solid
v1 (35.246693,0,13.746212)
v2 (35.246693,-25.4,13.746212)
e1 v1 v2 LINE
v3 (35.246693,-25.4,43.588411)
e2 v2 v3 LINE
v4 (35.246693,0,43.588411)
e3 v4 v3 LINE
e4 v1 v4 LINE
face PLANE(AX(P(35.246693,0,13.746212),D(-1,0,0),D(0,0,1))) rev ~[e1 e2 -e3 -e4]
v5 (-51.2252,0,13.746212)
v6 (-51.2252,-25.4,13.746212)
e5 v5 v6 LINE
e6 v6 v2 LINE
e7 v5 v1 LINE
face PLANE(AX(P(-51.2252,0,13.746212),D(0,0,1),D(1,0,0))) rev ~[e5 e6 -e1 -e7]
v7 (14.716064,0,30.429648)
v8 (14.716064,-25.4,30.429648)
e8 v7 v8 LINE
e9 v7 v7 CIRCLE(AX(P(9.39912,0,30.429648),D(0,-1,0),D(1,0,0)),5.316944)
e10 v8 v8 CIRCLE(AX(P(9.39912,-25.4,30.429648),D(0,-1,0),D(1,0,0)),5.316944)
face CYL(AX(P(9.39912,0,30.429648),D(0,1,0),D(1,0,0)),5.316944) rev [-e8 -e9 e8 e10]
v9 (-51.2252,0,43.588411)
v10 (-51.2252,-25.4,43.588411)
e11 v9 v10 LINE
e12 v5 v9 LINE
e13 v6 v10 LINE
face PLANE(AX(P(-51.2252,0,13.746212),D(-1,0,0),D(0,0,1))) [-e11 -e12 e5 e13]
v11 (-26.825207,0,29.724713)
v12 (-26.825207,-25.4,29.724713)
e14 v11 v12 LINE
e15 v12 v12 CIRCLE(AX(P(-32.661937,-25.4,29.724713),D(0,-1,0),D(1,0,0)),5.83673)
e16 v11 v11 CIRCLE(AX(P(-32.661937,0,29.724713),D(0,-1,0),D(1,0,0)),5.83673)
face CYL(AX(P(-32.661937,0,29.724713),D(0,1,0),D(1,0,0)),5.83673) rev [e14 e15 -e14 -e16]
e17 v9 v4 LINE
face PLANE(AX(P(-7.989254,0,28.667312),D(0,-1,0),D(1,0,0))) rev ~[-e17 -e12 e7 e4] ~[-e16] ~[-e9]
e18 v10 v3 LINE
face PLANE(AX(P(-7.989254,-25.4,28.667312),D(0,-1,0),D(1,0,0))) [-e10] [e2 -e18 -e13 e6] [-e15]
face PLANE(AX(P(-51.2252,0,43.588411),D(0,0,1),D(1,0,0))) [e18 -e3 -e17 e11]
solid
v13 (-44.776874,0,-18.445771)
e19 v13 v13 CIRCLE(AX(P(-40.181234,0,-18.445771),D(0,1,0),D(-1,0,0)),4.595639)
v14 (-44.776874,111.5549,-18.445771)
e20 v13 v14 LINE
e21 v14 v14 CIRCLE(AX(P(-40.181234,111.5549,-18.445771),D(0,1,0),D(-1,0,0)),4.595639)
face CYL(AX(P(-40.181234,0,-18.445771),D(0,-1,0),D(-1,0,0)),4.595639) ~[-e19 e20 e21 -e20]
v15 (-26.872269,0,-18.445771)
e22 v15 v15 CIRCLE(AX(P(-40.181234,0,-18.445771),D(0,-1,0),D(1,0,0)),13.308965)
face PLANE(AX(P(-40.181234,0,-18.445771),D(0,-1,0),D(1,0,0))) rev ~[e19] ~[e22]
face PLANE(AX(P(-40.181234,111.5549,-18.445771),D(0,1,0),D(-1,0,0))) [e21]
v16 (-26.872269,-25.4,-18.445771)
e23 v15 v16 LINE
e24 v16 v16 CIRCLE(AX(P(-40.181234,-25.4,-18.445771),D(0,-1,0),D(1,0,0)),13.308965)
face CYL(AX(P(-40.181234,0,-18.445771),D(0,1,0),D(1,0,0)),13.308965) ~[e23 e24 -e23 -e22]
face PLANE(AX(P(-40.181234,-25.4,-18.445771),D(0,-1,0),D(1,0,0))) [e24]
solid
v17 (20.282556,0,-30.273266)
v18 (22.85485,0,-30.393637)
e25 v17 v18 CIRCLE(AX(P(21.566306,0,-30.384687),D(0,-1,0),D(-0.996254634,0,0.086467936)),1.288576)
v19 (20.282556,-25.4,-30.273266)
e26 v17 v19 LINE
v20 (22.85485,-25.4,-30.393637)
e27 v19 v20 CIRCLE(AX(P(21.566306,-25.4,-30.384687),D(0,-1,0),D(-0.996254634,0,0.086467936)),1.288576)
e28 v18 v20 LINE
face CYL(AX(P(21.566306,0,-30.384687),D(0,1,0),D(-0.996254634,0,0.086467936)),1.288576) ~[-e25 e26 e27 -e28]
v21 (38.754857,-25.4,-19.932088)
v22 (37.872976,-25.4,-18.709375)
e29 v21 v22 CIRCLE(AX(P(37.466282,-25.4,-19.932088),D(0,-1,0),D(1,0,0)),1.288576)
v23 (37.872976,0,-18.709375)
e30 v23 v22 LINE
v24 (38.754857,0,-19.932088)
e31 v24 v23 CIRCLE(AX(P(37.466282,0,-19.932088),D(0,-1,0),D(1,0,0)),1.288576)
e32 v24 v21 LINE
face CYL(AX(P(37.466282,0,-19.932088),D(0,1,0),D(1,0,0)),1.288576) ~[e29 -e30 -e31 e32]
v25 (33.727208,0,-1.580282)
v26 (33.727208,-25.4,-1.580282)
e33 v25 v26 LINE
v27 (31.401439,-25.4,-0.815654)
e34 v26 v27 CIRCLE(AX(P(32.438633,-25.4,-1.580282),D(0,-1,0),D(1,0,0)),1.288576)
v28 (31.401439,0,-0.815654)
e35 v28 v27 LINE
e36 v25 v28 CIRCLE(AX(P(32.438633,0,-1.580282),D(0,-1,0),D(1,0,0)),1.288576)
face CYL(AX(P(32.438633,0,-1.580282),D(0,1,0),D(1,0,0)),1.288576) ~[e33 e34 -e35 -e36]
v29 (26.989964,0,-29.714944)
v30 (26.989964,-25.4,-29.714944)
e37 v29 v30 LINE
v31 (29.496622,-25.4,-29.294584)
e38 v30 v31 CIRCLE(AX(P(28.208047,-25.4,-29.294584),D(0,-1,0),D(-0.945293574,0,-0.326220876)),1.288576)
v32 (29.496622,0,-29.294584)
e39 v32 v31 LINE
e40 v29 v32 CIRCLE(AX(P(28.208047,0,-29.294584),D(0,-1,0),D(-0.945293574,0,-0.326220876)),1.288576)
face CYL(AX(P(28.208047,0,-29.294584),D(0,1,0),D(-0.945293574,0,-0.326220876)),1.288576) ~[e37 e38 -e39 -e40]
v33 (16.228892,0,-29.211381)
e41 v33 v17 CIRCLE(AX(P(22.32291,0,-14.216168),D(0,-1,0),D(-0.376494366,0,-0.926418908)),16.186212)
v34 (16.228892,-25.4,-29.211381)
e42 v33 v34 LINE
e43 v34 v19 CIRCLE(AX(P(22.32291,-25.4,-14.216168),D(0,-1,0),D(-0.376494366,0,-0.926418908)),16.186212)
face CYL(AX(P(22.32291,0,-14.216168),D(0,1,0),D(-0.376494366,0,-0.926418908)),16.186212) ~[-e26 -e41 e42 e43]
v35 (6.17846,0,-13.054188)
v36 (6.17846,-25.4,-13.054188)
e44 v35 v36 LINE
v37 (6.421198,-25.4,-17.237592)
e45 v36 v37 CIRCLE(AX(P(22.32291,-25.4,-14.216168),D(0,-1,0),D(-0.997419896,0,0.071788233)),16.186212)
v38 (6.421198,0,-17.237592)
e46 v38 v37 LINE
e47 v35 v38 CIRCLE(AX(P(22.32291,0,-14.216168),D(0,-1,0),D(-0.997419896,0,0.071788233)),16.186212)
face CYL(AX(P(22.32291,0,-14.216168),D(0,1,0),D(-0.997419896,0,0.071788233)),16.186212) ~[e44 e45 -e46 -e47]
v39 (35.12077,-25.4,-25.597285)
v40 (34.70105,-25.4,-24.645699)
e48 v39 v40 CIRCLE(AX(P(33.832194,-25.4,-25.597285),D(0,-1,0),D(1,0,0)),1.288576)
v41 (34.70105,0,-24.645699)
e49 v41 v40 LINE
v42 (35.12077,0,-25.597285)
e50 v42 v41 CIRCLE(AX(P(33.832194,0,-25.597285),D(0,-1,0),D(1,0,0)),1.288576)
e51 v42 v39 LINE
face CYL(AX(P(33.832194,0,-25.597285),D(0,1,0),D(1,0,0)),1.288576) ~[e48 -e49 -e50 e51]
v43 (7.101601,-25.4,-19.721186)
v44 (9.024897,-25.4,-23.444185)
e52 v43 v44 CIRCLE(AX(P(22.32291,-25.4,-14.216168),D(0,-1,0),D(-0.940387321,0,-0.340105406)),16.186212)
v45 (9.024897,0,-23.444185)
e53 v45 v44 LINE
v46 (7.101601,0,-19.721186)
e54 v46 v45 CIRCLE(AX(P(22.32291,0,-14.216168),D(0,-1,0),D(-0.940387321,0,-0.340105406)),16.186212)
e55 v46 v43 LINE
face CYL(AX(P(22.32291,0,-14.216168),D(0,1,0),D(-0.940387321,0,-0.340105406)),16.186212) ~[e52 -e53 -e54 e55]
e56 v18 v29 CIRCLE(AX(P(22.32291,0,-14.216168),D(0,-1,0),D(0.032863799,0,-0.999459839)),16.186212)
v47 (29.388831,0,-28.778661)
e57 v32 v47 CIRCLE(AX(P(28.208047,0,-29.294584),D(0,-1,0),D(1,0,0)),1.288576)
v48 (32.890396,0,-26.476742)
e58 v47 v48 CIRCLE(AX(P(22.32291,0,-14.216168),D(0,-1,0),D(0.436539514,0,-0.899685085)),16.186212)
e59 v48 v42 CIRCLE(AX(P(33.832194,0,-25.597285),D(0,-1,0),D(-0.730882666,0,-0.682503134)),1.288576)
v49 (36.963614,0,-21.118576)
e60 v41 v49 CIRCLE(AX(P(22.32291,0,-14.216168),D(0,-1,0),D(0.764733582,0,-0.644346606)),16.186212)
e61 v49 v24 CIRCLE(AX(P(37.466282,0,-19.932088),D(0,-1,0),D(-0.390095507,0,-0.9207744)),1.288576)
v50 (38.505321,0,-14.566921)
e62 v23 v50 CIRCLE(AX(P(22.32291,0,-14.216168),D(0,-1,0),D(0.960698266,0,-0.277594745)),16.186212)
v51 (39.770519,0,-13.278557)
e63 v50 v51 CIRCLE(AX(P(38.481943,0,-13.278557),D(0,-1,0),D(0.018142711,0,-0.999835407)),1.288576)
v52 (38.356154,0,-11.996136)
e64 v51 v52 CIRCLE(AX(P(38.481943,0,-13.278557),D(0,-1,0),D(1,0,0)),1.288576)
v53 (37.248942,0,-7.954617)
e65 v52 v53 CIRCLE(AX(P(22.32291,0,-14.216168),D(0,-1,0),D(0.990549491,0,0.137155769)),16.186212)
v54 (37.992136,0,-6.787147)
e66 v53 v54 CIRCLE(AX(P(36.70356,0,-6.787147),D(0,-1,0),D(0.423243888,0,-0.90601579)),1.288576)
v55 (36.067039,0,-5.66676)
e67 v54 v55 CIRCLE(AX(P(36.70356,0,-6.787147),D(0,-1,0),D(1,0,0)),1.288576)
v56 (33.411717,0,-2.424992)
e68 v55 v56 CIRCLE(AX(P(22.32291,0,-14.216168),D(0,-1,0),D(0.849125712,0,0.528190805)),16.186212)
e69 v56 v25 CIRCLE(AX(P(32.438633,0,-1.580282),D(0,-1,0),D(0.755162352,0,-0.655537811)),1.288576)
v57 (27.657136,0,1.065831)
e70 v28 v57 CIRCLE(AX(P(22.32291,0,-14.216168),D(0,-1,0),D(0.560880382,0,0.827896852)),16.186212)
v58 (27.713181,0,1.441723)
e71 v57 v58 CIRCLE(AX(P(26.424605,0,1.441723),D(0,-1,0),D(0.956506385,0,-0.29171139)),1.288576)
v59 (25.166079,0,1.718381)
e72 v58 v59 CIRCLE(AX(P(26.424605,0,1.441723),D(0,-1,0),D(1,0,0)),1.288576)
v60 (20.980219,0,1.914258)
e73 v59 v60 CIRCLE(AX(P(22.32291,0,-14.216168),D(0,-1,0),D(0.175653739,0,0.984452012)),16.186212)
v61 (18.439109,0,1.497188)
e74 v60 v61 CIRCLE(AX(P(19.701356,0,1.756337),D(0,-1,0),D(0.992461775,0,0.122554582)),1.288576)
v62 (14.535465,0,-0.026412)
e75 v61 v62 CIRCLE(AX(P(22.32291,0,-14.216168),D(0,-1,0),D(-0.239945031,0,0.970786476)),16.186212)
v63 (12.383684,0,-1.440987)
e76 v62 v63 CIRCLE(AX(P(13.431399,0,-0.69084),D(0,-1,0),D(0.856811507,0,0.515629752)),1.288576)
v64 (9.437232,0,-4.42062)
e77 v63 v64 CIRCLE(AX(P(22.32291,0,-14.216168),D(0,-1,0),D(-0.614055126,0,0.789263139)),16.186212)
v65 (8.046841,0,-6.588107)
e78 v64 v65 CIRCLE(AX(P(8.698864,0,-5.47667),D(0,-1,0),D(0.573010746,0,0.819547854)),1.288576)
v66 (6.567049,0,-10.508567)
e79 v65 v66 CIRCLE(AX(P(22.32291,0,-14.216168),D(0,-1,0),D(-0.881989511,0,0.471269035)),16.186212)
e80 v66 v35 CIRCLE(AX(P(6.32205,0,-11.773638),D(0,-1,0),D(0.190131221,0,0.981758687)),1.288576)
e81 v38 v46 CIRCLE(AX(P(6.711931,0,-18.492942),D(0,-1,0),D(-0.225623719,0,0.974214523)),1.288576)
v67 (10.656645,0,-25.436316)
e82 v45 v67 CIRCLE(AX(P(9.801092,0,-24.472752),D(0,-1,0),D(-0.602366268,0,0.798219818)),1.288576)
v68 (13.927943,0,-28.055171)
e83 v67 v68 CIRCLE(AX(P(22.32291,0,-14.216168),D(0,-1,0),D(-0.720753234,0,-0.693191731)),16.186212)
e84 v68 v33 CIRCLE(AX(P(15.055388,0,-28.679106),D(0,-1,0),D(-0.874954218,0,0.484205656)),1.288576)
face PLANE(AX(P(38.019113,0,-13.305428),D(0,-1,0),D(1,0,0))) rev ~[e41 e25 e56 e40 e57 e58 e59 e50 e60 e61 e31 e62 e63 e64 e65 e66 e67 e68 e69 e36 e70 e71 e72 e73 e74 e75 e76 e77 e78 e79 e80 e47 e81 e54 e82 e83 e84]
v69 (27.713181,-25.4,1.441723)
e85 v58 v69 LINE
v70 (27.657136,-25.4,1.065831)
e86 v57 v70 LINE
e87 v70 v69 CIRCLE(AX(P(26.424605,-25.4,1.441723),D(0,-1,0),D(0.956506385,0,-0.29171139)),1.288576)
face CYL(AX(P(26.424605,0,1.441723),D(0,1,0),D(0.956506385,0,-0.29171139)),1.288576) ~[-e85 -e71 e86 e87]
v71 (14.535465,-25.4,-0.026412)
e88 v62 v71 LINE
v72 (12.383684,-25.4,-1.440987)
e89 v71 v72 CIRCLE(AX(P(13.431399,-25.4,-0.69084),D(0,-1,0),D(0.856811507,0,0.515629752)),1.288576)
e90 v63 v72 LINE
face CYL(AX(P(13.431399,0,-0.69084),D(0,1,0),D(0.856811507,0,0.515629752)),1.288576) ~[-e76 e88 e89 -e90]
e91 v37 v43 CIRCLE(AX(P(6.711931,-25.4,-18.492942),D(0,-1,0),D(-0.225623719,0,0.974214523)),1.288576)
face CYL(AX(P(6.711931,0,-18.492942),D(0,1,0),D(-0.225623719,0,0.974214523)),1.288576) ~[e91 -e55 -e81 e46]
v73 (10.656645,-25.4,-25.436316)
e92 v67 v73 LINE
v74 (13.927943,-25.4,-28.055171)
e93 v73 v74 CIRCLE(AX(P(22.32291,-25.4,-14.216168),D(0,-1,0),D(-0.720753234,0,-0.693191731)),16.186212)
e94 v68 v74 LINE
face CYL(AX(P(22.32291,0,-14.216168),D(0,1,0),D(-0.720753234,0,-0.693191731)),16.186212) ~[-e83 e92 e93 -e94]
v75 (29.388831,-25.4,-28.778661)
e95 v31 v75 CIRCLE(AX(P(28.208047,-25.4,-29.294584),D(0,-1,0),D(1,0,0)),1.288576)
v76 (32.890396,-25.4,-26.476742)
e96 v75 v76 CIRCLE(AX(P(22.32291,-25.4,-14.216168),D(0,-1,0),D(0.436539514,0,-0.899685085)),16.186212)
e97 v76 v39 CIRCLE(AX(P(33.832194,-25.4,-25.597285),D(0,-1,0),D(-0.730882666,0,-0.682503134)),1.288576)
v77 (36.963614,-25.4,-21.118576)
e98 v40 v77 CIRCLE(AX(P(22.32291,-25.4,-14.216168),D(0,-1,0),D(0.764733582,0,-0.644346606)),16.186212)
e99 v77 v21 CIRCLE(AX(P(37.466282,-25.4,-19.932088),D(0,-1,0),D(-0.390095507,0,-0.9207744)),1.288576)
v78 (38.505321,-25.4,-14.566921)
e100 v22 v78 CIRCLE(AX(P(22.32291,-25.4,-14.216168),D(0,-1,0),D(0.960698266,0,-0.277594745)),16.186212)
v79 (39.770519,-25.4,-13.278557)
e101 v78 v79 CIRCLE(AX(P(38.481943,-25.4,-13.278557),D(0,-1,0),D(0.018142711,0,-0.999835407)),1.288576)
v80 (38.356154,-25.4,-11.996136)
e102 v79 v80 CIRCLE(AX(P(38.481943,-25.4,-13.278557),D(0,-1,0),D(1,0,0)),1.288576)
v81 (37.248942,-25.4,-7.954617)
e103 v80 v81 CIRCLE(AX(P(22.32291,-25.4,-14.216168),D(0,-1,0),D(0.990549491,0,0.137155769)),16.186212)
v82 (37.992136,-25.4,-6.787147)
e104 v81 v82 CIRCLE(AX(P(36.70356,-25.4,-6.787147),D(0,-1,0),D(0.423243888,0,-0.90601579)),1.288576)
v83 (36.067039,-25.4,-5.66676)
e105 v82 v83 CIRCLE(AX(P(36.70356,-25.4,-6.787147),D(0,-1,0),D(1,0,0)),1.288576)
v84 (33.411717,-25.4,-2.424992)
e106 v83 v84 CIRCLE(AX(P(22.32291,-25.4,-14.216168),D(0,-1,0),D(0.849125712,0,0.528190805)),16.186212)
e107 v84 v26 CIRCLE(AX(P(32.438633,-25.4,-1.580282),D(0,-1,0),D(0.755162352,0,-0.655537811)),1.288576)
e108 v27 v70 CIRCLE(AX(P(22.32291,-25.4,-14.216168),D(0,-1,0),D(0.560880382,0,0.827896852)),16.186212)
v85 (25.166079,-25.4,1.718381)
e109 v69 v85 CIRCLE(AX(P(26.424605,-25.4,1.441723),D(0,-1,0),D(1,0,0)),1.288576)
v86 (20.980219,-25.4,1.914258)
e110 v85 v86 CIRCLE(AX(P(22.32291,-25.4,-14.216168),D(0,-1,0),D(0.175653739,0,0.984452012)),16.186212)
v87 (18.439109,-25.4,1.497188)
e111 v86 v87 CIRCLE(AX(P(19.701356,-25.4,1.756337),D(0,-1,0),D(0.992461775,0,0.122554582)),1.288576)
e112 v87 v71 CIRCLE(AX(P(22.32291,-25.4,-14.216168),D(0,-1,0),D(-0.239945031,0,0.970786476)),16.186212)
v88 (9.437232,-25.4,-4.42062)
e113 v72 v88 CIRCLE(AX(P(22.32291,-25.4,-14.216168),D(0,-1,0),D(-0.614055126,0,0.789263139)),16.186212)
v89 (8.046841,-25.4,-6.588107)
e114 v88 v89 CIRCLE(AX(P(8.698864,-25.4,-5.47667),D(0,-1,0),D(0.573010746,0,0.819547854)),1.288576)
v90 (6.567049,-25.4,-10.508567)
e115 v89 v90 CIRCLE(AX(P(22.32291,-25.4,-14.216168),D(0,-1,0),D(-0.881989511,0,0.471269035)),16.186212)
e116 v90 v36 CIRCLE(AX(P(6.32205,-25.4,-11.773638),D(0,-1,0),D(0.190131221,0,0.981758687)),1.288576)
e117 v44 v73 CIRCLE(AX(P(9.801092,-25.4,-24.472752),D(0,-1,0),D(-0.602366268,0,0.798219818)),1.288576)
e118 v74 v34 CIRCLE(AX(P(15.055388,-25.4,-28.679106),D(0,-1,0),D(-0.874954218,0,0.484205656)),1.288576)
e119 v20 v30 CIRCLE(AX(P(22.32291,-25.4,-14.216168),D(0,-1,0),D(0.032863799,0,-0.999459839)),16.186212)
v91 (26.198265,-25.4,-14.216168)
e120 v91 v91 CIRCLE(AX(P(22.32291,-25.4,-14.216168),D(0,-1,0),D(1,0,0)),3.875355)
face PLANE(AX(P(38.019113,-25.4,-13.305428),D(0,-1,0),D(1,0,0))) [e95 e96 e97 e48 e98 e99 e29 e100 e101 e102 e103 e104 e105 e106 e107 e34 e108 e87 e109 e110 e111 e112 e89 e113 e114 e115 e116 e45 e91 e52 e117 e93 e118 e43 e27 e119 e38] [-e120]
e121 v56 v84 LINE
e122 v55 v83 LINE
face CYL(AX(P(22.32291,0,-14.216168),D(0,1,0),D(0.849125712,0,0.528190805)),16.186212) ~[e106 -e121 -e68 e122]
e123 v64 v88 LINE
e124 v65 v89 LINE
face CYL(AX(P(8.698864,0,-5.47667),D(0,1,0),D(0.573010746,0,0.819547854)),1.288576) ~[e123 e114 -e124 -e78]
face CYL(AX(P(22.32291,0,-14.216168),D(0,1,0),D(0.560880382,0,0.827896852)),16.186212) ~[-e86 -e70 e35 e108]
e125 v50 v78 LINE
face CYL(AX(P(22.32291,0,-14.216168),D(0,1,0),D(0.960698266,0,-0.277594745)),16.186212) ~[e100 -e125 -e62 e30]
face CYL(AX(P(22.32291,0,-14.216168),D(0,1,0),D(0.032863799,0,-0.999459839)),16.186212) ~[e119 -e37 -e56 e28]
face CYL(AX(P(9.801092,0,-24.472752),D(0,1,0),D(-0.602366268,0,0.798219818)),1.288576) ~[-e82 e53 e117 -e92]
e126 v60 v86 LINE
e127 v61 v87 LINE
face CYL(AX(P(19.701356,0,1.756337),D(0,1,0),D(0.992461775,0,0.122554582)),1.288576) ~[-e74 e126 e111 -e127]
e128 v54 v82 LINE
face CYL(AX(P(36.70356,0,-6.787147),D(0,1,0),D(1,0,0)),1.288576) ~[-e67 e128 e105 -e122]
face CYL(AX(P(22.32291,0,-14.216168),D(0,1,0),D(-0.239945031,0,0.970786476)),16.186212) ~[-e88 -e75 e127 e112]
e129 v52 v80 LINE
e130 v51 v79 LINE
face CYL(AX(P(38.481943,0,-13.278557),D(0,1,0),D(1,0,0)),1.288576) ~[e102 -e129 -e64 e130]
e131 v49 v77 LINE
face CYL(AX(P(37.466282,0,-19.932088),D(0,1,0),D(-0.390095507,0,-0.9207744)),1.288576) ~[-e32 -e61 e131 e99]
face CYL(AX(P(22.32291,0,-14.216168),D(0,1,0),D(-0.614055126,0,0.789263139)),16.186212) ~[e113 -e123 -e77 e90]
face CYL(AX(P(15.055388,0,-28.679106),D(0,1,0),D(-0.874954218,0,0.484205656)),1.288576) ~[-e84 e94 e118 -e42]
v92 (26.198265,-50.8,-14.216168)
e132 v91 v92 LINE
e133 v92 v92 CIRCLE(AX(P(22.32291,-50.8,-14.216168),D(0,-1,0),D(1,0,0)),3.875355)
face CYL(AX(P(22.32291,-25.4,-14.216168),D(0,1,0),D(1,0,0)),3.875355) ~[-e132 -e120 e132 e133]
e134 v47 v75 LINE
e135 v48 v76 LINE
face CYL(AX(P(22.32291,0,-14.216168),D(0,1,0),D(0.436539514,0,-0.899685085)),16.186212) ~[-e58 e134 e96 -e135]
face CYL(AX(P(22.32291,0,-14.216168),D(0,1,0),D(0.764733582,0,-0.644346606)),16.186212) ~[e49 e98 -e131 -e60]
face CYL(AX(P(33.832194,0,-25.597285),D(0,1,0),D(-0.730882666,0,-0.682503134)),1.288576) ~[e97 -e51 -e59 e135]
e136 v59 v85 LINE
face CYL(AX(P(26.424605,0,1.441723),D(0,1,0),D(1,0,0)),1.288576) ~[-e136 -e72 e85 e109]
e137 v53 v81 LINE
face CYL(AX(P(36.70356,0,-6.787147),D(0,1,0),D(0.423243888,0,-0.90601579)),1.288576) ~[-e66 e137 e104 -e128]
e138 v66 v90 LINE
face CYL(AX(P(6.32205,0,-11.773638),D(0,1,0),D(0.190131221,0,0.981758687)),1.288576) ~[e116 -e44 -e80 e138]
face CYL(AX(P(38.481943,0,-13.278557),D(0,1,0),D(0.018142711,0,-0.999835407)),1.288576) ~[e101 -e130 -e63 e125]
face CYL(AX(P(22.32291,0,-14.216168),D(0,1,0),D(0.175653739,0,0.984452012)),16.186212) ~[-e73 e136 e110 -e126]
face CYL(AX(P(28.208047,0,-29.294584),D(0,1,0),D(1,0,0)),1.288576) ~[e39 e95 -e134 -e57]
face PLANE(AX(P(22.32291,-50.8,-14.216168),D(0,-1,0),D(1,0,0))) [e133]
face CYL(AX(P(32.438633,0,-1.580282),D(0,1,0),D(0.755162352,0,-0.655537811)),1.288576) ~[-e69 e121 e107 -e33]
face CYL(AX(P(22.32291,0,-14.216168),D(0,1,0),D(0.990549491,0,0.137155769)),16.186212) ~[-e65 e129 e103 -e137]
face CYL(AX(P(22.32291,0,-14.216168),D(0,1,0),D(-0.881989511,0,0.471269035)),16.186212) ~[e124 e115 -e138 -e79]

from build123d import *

# Parameters (mm, degrees)
F0_W     = 86.4718928933
F0_H     = 29.8421988264
F0_R     = 5.8367301555
F0_R_2   = 5.3169441362
F1_DEPTH = 25.4
F2_DEPTH = 25.4
F0_R_3   = 13.3089651356
F3_R     = 4.5956390335
F4_DEPTH = 111.5549
F5_R     = 3.875354641
F6_DEPTH = 25.4


with BuildPart() as f1:
    # F0 (on Front) → F1 (new body)
    with BuildSketch(Plane.XZ):
        with Locations((-7.9892538488, 28.6673116498)):
            Rectangle(F0_W, F0_H)
        with Locations((-32.6619371772, 29.7247134149)):
            Circle(F0_R, mode=Mode.SUBTRACT)
        with Locations((9.3991197646, 30.4296482354)):
            Circle(F0_R_2, mode=Mode.SUBTRACT)
    extrude(amount=F1_DEPTH)

    # F0 (on Front) → F2 (join)
    with BuildSketch(Plane.XZ):
        with Locations((-7.9892538488, 28.6673116498)):
            Rectangle(F0_W, F0_H)
        with Locations((-32.6619371772, 29.7247134149)):
            Circle(F0_R, mode=Mode.SUBTRACT)
        with Locations((9.3991197646, 30.4296482354)):
            Circle(F0_R_2, mode=Mode.SUBTRACT)
    extrude(amount=F2_DEPTH)


with BuildPart() as f2:
    # F0 (on Front) → F2, piece 2 (new body)
    with BuildSketch(Plane.XZ):
        with Locations((-40.181234479, -18.4457711875)):
            Circle(F0_R_3)
    extrude(amount=F2_DEPTH)

    # F3 (on face) → F4 (join)
    with BuildSketch(Plane(origin=(0, 0, 0), x_dir=(-1, 0, 0), z_dir=(0, 1, 0))):
        with Locations((40.181234479, -18.4457711875)):
            Circle(F3_R)
    extrude(amount=F4_DEPTH)


with BuildPart() as f2b:
    # F0 (on Front) → F2, piece 3 (new body)
    with BuildSketch(Plane.XZ):
        with BuildLine():
            ThreePointArc((38.5053209927, -14.566920689), (38.5081715854, -14.3915545669), (38.5091218202, -14.2161678523))
            ThreePointArc((38.5091218202, -14.2161678523), (38.470834554, -13.1035197974), (38.3561538866, -11.9961355131))
            ThreePointArc((38.3561538866, -11.9961355131), (37.1955306361, -13.3531996767), (38.5053209927, -14.566920689))
        make_face()
        with BuildLine():
            ThreePointArc((38.3561538866, -11.9961355131), (38.470834554, -13.1035197974), (38.5091218202, -14.2161678523))
            ThreePointArc((38.5091218202, -14.2161678523), (38.5081715854, -14.3915545669), (38.5053209927, -14.566920689))
            ThreePointArc((38.5053209927, -14.566920689), (39.4013317381, -14.181414366), (39.770518546, -13.2785569676))
            ThreePointArc((39.770518546, -13.2785569676), (39.3474885609, -12.3239585997), (38.3561538866, -11.9961355131))
        make_face()
        with BuildLine():
            ThreePointArc((38.5053209927, -14.566920689), (37.1955306361, -13.3531996767), (38.3561538866, -11.9961355131))
            ThreePointArc((38.3561538866, -11.9961355131), (37.9338888332, -9.9393941778), (37.2489420793, -7.9546169509))
            ThreePointArc((37.2489420793, -7.9546169509), (35.5587242385, -7.3785673661), (36.0670386147, -5.6667595589))
            ThreePointArc((36.0670386147, -5.6667595589), (34.8447282268, -3.9595835248), (33.4117166045, -2.4249922481))
            ThreePointArc((33.4117166045, -2.4249922481), (31.6333252992, -2.5862182972), (31.4014386276, -0.8156539676))
            ThreePointArc((31.4014386276, -0.8156539676), (29.5904314756, 0.2467705198), (27.657135713, 1.0658310732))
            ThreePointArc((27.657135713, 1.0658310732), (26.0980709561, 0.1952068389), (25.1660785488, 1.7183810332))
            ThreePointArc((25.1660785488, 1.7183810332), (23.0795142218, 1.9523511282), (20.9802187196, 1.9142579478))
            ThreePointArc((20.9802187196, 1.9142579478), (20.987501608, 1.8354467404), (20.9899322942, 1.7563370784))
            ThreePointArc((20.9899322942, 1.7563370784), (19.831598117, 0.4743601917), (18.4391087823, 1.4971877709))
            ThreePointArc((18.4391087823, 1.4971877709), (16.4377732083, 0.8622479185), (14.5354652304, -0.0264123389))
            ThreePointArc((14.5354652304, -0.0264123389), (14.6729905921, -0.3460548311), (14.7199744587, -0.6908403648))
            ThreePointArc((14.7199744587, -0.6908403648), (13.8253321714, -1.9177242224), (12.3836835135, -1.44098743))
            ThreePointArc((12.3836835135, -1.44098743), (10.8136257948, -2.8350503611), (9.4372316724, -4.4206202636))
            ThreePointArc((9.4372316724, -4.4206202636), (9.841639124, -4.8812771813), (9.9874396967, -5.4766698043))
            ThreePointArc((9.9874396967, -5.4766698043), (9.3392725141, -6.594839921), (8.046840783, -6.5881073848))
            ThreePointArc((8.046840783, -6.5881073848), (7.1795381627, -8.5002472491), (6.5670489438, -10.5085673562))
            ThreePointArc((6.5670489438, -10.5085673562), (7.3160642218, -10.9536596544), (7.6106262623, -11.7736378522))
            ThreePointArc((7.6106262623, -11.7736378522), (7.1809452542, -12.7342248282), (6.178460098, -13.0541882932))
            ThreePointArc((6.178460098, -13.0541882932), (6.1638770783, -15.1537787369), (6.4211977132, -17.2375922571))
            ThreePointArc((6.4211977132, -17.2375922571), (7.5137401112, -17.4842147362), (8.000506791, -18.4929415268))
            ThreePointArc((8.000506791, -18.4929415268), (7.7517741331, -19.2539631019), (7.1016014527, -19.7211860236))
            ThreePointArc((7.1016014527, -19.7211860236), (7.9422595701, -21.6451887849), (9.0248969832, -23.4441854296))
            ThreePointArc((9.0248969832, -23.4441854296), (10.3756531718, -23.3193629975), (11.0896673975, -24.4727521798))
            ThreePointArc((11.0896673975, -24.4727521798), (10.9764369542, -25.0009480594), (10.6566453202, -25.4363161007))
            ThreePointArc((10.6566453202, -25.4363161007), (12.2071871492, -26.852053623), (13.9279434964, -28.055170529))
            ThreePointArc((13.9279434964, -28.055170529), (15.3775912787, -27.4314632923), (16.3439641486, -28.6791062244))
            ThreePointArc((16.3439641486, -28.6791062244), (16.3148676875, -28.951391714), (16.2288923194, -29.2113806137))
            ThreePointArc((16.2288923194, -29.2113806137), (18.2212150915, -29.874059018), (20.2825559678, -30.2732663423))
            ThreePointArc((20.2825559678, -30.2732663423), (21.6220680736, -29.0973181339), (22.8548814025, -30.3846868328))
            ThreePointArc((22.8548814025, -30.3846868328), (22.8548736323, -30.38916175), (22.8548503218, -30.3936366131))
            ThreePointArc((22.8548503218, -30.3936366131), (24.94446333, -30.188672783), (26.9899641712, -29.7149439525))
            ThreePointArc((26.9899641712, -29.7149439525), (27.7395339696, -28.0941988797), (29.3888309939, -28.7786612961))
            ThreePointArc((29.3888309939, -28.7786612961), (31.2144211656, -27.7414953398), (32.8903962933, -26.476742373))
            ThreePointArc((32.8903962933, -26.476742373), (32.9159459677, -24.6912405702), (34.7010497181, -24.6456985665))
            ThreePointArc((34.7010497181, -24.6456985665), (35.9469559276, -22.9556659002), (36.9636140166, -21.118576075))
            ThreePointArc((36.9636140166, -21.118576075), (36.2607257961, -19.4770470247), (37.872975617, -18.7093752271))
            ThreePointArc((37.872975617, -18.7093752271), (38.3237693619, -16.6586978523), (38.5053209927, -14.566920689))
        make_face()
        with BuildLine():
            ThreePointArc((36.0670386147, -5.6667595589), (35.5587242385, -7.3785673661), (37.2489420793, -7.9546169509))
            ThreePointArc((37.2489420793, -7.9546169509), (36.7035602429, -6.7871469197), (36.0670386147, -5.6667595589))
        make_face()
        with BuildLine():
            ThreePointArc((36.0670386147, -5.6667595589), (36.7035602429, -6.7871469197), (37.2489420793, -7.9546169509))
            ThreePointArc((37.2489420793, -7.9546169509), (37.7905729989, -7.4791229955), (37.9921360541, -6.7871469197))
            ThreePointArc((37.9921360541, -6.7871469197), (37.3517196553, -5.6734517202), (36.0670386147, -5.6667595589))
        make_face()
        with BuildLine():
            ThreePointArc((38.7548574616, -19.9320884555), (38.5113853843, -19.1783074484), (37.872975617, -18.7093752271))
            ThreePointArc((37.872975617, -18.7093752271), (37.4662816503, -19.9320884555), (36.9636140166, -21.118576075))
            ThreePointArc((36.9636140166, -21.118576075), (38.1778651899, -21.0063679757), (38.7548574616, -19.9320884555))
        make_face()
        with BuildLine():
            ThreePointArc((36.9636140166, -21.118576075), (37.4662816503, -19.9320884555), (37.872975617, -18.7093752271))
            ThreePointArc((37.872975617, -18.7093752271), (36.2607257961, -19.4770470247), (36.9636140166, -21.118576075))
        make_face()
        with BuildLine():
            ThreePointArc((31.4014386276, -0.8156539676), (31.6333252992, -2.5862182972), (33.4117166045, -2.4249922481))
            ThreePointArc((33.4117166045, -2.4249922481), (32.4386326638, -1.5802820815), (31.4014386276, -0.8156539676))
        make_face()
        with BuildLine():
            ThreePointArc((31.4014386276, -0.8156539676), (32.4386326638, -1.5802820815), (33.4117166045, -2.4249922481))
            ThreePointArc((33.4117166045, -2.4249922481), (33.645761499, -2.0311341598), (33.727208475, -1.5802820815))
            ThreePointArc((33.727208475, -1.5802820815), (32.841077986, -0.3561638748), (31.4014386276, -0.8156539676))
        make_face()
        with BuildLine():
            ThreePointArc((35.1207698295, -25.5972853435), (35.0111796118, -25.0772655443), (34.7010497181, -24.6456985665))
            ThreePointArc((34.7010497181, -24.6456985665), (33.8321940182, -25.5972853435), (32.8903962933, -26.476742373))
            ThreePointArc((32.8903962933, -26.476742373), (34.3048724787, -26.7960358156), (35.1207698295, -25.5972853435))
        make_face()
        with BuildLine():
            ThreePointArc((32.8903962933, -26.476742373), (33.8321940182, -25.5972853435), (34.7010497181, -24.6456985665))
            ThreePointArc((34.7010497181, -24.6456985665), (32.9159459677, -24.6912405702), (32.8903962933, -26.476742373))
        make_face()
        with BuildLine():
            ThreePointArc((25.1660785488, 1.7183810332), (26.0980709561, 0.1952068389), (27.657135713, 1.0658310732))
            ThreePointArc((27.657135713, 1.0658310732), (26.4246047215, 1.4417233135), (25.1660785488, 1.7183810332))
        make_face()
        with BuildLine():
            ThreePointArc((25.1660785488, 1.7183810332), (26.4246047215, 1.4417233135), (27.657135713, 1.0658310732))
            ThreePointArc((27.657135713, 1.0658310732), (27.6990923134, 1.251699632), (27.7131805327, 1.4417233135))
            ThreePointArc((27.7131805327, 1.4417233135), (26.5637471617, 2.7227646878), (25.1660785488, 1.7183810332))
        make_face()
        with BuildLine():
            ThreePointArc((29.4966224159, -29.2945836231), (29.46938673, -29.0310523924), (29.3888309939, -28.7786612961))
            ThreePointArc((29.3888309939, -28.7786612961), (28.2080466047, -29.2945836231), (26.9899641712, -29.7149439525))
            ThreePointArc((26.9899641712, -29.7149439525), (28.4211616692, -30.5654138992), (29.4966224159, -29.2945836231))
        make_face()
        with BuildLine():
            ThreePointArc((26.9899641712, -29.7149439525), (28.2080466047, -29.2945836231), (29.3888309939, -28.7786612961))
            ThreePointArc((29.3888309939, -28.7786612961), (27.7395339696, -28.0941988797), (26.9899641712, -29.7149439525))
        make_face()
        with BuildLine():
            ThreePointArc((20.9899322942, 1.7563370784), (20.987501608, 1.8354467404), (20.9802187196, 1.9142579478))
            ThreePointArc((20.9802187196, 1.9142579478), (19.701356483, 1.7563370784), (18.4391087823, 1.4971877709))
            ThreePointArc((18.4391087823, 1.4971877709), (19.831598117, 0.4743601917), (20.9899322942, 1.7563370784))
        make_face()
        with BuildLine():
            ThreePointArc((18.4391087823, 1.4971877709), (19.701356483, 1.7563370784), (20.9802187196, 1.9142579478))
            ThreePointArc((20.9802187196, 1.9142579478), (19.4926559947, 3.0278997892), (18.4391087823, 1.4971877709))
        make_face()
        with BuildLine():
            ThreePointArc((20.2825559678, -30.2732663423), (21.5060727199, -31.671854119), (22.8548503218, -30.3936366131))
            ThreePointArc((22.8548503218, -30.3936366131), (21.5663055912, -30.3846868328), (20.2825559678, -30.2732663423))
        make_face()
        with BuildLine():
            ThreePointArc((20.2825559678, -30.2732663423), (21.5663055912, -30.3846868328), (22.8548503218, -30.3936366131))
            ThreePointArc((22.8548503218, -30.3936366131), (22.8548736323, -30.38916175), (22.8548814025, -30.3846868328))
            ThreePointArc((22.8548814025, -30.3846868328), (21.6220680736, -29.0973181339), (20.2825559678, -30.2732663423))
        make_face()
        with BuildLine():
            ThreePointArc((14.7199744587, -0.6908403648), (14.6729905921, -0.3460548311), (14.5354652304, -0.0264123389))
            ThreePointArc((14.5354652304, -0.0264123389), (13.4313986474, -0.6908403648), (12.3836835135, -1.44098743))
            ThreePointArc((12.3836835135, -1.44098743), (13.8253321714, -1.9177242224), (14.7199744587, -0.6908403648))
        make_face()
        with BuildLine():
            ThreePointArc((12.3836835135, -1.44098743), (13.4313986474, -0.6908403648), (14.5354652304, -0.0264123389))
            ThreePointArc((14.5354652304, -0.0264123389), (12.7235501159, 0.3859038378), (12.3836835135, -1.44098743))
        make_face()
        with BuildLine():
            ThreePointArc((13.9279434964, -28.055170529), (14.4768247703, -29.830493136), (16.2288923194, -29.2113806137))
            ThreePointArc((16.2288923194, -29.2113806137), (15.0553883374, -28.6791062244), (13.9279434964, -28.055170529))
        make_face()
        with BuildLine():
            ThreePointArc((13.9279434964, -28.055170529), (15.0553883374, -28.6791062244), (16.2288923194, -29.2113806137))
            ThreePointArc((16.2288923194, -29.2113806137), (16.3148676875, -28.951391714), (16.3439641486, -28.6791062244))
            ThreePointArc((16.3439641486, -28.6791062244), (15.3775912787, -27.4314632923), (13.9279434964, -28.055170529))
        make_face()
        with BuildLine():
            ThreePointArc((9.9874396967, -5.4766698043), (9.841639124, -4.8812771813), (9.4372316724, -4.4206202636))
            ThreePointArc((9.4372316724, -4.4206202636), (8.6988638855, -5.4766698043), (8.046840783, -6.5881073848))
            ThreePointArc((8.046840783, -6.5881073848), (9.3392725141, -6.594839921), (9.9874396967, -5.4766698043))
        make_face()
        with BuildLine():
            ThreePointArc((8.046840783, -6.5881073848), (8.6988638855, -5.4766698043), (9.4372316724, -4.4206202636))
            ThreePointArc((9.4372316724, -4.4206202636), (7.6142607524, -4.7809229646), (8.046840783, -6.5881073848))
        make_face()
        with BuildLine():
            ThreePointArc((9.0248969832, -23.4441854296), (8.8042362203, -25.2892734598), (10.6566453202, -25.4363161007))
            ThreePointArc((10.6566453202, -25.4363161007), (9.8010915862, -24.4727521798), (9.0248969832, -23.4441854296))
        make_face()
        with BuildLine():
            ThreePointArc((9.0248969832, -23.4441854296), (9.8010915862, -24.4727521798), (10.6566453202, -25.4363161007))
            ThreePointArc((10.6566453202, -25.4363161007), (10.9764369542, -25.0009480594), (11.0896673975, -24.4727521798))
            ThreePointArc((11.0896673975, -24.4727521798), (10.3756531718, -23.3193629975), (9.0248969832, -23.4441854296))
        make_face()
        with BuildLine():
            ThreePointArc((7.6106262623, -11.7736378522), (7.3160642218, -10.9536596544), (6.5670489438, -10.5085673562))
            ThreePointArc((6.5670489438, -10.5085673562), (6.3220504511, -11.7736378522), (6.178460098, -13.0541882932))
            ThreePointArc((6.178460098, -13.0541882932), (7.1809452542, -12.7342248282), (7.6106262623, -11.7736378522))
        make_face()
        with BuildLine():
            ThreePointArc((6.178460098, -13.0541882932), (6.3220504511, -11.7736378522), (6.5670489438, -10.5085673562))
            ThreePointArc((6.5670489438, -10.5085673562), (5.0482304515, -11.5791893245), (6.178460098, -13.0541882932))
        make_face()
        with BuildLine():
            ThreePointArc((6.4211977132, -17.2375922571), (5.4691491639, -18.8334132281), (7.1016014527, -19.7211860236))
            ThreePointArc((7.1016014527, -19.7211860236), (6.7119309798, -18.4929415268), (6.4211977132, -17.2375922571))
        make_face()
        with BuildLine():
            ThreePointArc((6.4211977132, -17.2375922571), (6.7119309798, -18.4929415268), (7.1016014527, -19.7211860236))
            ThreePointArc((7.1016014527, -19.7211860236), (7.7517741331, -19.2539631019), (8.000506791, -18.4929415268))
            ThreePointArc((8.000506791, -18.4929415268), (7.5137401112, -17.4842147362), (6.4211977132, -17.2375922571))
        make_face()
    extrude(amount=F2_DEPTH)

    # F5 (on face) → F6 (join)
    with BuildSketch(Plane.XZ.offset(25.4)):
        with Locations((22.3229099065, -14.2161678523)):
            Circle(F5_R)
    extrude(amount=F6_DEPTH)


solid = Compound([f1.part, f2.part, f2b.part])
